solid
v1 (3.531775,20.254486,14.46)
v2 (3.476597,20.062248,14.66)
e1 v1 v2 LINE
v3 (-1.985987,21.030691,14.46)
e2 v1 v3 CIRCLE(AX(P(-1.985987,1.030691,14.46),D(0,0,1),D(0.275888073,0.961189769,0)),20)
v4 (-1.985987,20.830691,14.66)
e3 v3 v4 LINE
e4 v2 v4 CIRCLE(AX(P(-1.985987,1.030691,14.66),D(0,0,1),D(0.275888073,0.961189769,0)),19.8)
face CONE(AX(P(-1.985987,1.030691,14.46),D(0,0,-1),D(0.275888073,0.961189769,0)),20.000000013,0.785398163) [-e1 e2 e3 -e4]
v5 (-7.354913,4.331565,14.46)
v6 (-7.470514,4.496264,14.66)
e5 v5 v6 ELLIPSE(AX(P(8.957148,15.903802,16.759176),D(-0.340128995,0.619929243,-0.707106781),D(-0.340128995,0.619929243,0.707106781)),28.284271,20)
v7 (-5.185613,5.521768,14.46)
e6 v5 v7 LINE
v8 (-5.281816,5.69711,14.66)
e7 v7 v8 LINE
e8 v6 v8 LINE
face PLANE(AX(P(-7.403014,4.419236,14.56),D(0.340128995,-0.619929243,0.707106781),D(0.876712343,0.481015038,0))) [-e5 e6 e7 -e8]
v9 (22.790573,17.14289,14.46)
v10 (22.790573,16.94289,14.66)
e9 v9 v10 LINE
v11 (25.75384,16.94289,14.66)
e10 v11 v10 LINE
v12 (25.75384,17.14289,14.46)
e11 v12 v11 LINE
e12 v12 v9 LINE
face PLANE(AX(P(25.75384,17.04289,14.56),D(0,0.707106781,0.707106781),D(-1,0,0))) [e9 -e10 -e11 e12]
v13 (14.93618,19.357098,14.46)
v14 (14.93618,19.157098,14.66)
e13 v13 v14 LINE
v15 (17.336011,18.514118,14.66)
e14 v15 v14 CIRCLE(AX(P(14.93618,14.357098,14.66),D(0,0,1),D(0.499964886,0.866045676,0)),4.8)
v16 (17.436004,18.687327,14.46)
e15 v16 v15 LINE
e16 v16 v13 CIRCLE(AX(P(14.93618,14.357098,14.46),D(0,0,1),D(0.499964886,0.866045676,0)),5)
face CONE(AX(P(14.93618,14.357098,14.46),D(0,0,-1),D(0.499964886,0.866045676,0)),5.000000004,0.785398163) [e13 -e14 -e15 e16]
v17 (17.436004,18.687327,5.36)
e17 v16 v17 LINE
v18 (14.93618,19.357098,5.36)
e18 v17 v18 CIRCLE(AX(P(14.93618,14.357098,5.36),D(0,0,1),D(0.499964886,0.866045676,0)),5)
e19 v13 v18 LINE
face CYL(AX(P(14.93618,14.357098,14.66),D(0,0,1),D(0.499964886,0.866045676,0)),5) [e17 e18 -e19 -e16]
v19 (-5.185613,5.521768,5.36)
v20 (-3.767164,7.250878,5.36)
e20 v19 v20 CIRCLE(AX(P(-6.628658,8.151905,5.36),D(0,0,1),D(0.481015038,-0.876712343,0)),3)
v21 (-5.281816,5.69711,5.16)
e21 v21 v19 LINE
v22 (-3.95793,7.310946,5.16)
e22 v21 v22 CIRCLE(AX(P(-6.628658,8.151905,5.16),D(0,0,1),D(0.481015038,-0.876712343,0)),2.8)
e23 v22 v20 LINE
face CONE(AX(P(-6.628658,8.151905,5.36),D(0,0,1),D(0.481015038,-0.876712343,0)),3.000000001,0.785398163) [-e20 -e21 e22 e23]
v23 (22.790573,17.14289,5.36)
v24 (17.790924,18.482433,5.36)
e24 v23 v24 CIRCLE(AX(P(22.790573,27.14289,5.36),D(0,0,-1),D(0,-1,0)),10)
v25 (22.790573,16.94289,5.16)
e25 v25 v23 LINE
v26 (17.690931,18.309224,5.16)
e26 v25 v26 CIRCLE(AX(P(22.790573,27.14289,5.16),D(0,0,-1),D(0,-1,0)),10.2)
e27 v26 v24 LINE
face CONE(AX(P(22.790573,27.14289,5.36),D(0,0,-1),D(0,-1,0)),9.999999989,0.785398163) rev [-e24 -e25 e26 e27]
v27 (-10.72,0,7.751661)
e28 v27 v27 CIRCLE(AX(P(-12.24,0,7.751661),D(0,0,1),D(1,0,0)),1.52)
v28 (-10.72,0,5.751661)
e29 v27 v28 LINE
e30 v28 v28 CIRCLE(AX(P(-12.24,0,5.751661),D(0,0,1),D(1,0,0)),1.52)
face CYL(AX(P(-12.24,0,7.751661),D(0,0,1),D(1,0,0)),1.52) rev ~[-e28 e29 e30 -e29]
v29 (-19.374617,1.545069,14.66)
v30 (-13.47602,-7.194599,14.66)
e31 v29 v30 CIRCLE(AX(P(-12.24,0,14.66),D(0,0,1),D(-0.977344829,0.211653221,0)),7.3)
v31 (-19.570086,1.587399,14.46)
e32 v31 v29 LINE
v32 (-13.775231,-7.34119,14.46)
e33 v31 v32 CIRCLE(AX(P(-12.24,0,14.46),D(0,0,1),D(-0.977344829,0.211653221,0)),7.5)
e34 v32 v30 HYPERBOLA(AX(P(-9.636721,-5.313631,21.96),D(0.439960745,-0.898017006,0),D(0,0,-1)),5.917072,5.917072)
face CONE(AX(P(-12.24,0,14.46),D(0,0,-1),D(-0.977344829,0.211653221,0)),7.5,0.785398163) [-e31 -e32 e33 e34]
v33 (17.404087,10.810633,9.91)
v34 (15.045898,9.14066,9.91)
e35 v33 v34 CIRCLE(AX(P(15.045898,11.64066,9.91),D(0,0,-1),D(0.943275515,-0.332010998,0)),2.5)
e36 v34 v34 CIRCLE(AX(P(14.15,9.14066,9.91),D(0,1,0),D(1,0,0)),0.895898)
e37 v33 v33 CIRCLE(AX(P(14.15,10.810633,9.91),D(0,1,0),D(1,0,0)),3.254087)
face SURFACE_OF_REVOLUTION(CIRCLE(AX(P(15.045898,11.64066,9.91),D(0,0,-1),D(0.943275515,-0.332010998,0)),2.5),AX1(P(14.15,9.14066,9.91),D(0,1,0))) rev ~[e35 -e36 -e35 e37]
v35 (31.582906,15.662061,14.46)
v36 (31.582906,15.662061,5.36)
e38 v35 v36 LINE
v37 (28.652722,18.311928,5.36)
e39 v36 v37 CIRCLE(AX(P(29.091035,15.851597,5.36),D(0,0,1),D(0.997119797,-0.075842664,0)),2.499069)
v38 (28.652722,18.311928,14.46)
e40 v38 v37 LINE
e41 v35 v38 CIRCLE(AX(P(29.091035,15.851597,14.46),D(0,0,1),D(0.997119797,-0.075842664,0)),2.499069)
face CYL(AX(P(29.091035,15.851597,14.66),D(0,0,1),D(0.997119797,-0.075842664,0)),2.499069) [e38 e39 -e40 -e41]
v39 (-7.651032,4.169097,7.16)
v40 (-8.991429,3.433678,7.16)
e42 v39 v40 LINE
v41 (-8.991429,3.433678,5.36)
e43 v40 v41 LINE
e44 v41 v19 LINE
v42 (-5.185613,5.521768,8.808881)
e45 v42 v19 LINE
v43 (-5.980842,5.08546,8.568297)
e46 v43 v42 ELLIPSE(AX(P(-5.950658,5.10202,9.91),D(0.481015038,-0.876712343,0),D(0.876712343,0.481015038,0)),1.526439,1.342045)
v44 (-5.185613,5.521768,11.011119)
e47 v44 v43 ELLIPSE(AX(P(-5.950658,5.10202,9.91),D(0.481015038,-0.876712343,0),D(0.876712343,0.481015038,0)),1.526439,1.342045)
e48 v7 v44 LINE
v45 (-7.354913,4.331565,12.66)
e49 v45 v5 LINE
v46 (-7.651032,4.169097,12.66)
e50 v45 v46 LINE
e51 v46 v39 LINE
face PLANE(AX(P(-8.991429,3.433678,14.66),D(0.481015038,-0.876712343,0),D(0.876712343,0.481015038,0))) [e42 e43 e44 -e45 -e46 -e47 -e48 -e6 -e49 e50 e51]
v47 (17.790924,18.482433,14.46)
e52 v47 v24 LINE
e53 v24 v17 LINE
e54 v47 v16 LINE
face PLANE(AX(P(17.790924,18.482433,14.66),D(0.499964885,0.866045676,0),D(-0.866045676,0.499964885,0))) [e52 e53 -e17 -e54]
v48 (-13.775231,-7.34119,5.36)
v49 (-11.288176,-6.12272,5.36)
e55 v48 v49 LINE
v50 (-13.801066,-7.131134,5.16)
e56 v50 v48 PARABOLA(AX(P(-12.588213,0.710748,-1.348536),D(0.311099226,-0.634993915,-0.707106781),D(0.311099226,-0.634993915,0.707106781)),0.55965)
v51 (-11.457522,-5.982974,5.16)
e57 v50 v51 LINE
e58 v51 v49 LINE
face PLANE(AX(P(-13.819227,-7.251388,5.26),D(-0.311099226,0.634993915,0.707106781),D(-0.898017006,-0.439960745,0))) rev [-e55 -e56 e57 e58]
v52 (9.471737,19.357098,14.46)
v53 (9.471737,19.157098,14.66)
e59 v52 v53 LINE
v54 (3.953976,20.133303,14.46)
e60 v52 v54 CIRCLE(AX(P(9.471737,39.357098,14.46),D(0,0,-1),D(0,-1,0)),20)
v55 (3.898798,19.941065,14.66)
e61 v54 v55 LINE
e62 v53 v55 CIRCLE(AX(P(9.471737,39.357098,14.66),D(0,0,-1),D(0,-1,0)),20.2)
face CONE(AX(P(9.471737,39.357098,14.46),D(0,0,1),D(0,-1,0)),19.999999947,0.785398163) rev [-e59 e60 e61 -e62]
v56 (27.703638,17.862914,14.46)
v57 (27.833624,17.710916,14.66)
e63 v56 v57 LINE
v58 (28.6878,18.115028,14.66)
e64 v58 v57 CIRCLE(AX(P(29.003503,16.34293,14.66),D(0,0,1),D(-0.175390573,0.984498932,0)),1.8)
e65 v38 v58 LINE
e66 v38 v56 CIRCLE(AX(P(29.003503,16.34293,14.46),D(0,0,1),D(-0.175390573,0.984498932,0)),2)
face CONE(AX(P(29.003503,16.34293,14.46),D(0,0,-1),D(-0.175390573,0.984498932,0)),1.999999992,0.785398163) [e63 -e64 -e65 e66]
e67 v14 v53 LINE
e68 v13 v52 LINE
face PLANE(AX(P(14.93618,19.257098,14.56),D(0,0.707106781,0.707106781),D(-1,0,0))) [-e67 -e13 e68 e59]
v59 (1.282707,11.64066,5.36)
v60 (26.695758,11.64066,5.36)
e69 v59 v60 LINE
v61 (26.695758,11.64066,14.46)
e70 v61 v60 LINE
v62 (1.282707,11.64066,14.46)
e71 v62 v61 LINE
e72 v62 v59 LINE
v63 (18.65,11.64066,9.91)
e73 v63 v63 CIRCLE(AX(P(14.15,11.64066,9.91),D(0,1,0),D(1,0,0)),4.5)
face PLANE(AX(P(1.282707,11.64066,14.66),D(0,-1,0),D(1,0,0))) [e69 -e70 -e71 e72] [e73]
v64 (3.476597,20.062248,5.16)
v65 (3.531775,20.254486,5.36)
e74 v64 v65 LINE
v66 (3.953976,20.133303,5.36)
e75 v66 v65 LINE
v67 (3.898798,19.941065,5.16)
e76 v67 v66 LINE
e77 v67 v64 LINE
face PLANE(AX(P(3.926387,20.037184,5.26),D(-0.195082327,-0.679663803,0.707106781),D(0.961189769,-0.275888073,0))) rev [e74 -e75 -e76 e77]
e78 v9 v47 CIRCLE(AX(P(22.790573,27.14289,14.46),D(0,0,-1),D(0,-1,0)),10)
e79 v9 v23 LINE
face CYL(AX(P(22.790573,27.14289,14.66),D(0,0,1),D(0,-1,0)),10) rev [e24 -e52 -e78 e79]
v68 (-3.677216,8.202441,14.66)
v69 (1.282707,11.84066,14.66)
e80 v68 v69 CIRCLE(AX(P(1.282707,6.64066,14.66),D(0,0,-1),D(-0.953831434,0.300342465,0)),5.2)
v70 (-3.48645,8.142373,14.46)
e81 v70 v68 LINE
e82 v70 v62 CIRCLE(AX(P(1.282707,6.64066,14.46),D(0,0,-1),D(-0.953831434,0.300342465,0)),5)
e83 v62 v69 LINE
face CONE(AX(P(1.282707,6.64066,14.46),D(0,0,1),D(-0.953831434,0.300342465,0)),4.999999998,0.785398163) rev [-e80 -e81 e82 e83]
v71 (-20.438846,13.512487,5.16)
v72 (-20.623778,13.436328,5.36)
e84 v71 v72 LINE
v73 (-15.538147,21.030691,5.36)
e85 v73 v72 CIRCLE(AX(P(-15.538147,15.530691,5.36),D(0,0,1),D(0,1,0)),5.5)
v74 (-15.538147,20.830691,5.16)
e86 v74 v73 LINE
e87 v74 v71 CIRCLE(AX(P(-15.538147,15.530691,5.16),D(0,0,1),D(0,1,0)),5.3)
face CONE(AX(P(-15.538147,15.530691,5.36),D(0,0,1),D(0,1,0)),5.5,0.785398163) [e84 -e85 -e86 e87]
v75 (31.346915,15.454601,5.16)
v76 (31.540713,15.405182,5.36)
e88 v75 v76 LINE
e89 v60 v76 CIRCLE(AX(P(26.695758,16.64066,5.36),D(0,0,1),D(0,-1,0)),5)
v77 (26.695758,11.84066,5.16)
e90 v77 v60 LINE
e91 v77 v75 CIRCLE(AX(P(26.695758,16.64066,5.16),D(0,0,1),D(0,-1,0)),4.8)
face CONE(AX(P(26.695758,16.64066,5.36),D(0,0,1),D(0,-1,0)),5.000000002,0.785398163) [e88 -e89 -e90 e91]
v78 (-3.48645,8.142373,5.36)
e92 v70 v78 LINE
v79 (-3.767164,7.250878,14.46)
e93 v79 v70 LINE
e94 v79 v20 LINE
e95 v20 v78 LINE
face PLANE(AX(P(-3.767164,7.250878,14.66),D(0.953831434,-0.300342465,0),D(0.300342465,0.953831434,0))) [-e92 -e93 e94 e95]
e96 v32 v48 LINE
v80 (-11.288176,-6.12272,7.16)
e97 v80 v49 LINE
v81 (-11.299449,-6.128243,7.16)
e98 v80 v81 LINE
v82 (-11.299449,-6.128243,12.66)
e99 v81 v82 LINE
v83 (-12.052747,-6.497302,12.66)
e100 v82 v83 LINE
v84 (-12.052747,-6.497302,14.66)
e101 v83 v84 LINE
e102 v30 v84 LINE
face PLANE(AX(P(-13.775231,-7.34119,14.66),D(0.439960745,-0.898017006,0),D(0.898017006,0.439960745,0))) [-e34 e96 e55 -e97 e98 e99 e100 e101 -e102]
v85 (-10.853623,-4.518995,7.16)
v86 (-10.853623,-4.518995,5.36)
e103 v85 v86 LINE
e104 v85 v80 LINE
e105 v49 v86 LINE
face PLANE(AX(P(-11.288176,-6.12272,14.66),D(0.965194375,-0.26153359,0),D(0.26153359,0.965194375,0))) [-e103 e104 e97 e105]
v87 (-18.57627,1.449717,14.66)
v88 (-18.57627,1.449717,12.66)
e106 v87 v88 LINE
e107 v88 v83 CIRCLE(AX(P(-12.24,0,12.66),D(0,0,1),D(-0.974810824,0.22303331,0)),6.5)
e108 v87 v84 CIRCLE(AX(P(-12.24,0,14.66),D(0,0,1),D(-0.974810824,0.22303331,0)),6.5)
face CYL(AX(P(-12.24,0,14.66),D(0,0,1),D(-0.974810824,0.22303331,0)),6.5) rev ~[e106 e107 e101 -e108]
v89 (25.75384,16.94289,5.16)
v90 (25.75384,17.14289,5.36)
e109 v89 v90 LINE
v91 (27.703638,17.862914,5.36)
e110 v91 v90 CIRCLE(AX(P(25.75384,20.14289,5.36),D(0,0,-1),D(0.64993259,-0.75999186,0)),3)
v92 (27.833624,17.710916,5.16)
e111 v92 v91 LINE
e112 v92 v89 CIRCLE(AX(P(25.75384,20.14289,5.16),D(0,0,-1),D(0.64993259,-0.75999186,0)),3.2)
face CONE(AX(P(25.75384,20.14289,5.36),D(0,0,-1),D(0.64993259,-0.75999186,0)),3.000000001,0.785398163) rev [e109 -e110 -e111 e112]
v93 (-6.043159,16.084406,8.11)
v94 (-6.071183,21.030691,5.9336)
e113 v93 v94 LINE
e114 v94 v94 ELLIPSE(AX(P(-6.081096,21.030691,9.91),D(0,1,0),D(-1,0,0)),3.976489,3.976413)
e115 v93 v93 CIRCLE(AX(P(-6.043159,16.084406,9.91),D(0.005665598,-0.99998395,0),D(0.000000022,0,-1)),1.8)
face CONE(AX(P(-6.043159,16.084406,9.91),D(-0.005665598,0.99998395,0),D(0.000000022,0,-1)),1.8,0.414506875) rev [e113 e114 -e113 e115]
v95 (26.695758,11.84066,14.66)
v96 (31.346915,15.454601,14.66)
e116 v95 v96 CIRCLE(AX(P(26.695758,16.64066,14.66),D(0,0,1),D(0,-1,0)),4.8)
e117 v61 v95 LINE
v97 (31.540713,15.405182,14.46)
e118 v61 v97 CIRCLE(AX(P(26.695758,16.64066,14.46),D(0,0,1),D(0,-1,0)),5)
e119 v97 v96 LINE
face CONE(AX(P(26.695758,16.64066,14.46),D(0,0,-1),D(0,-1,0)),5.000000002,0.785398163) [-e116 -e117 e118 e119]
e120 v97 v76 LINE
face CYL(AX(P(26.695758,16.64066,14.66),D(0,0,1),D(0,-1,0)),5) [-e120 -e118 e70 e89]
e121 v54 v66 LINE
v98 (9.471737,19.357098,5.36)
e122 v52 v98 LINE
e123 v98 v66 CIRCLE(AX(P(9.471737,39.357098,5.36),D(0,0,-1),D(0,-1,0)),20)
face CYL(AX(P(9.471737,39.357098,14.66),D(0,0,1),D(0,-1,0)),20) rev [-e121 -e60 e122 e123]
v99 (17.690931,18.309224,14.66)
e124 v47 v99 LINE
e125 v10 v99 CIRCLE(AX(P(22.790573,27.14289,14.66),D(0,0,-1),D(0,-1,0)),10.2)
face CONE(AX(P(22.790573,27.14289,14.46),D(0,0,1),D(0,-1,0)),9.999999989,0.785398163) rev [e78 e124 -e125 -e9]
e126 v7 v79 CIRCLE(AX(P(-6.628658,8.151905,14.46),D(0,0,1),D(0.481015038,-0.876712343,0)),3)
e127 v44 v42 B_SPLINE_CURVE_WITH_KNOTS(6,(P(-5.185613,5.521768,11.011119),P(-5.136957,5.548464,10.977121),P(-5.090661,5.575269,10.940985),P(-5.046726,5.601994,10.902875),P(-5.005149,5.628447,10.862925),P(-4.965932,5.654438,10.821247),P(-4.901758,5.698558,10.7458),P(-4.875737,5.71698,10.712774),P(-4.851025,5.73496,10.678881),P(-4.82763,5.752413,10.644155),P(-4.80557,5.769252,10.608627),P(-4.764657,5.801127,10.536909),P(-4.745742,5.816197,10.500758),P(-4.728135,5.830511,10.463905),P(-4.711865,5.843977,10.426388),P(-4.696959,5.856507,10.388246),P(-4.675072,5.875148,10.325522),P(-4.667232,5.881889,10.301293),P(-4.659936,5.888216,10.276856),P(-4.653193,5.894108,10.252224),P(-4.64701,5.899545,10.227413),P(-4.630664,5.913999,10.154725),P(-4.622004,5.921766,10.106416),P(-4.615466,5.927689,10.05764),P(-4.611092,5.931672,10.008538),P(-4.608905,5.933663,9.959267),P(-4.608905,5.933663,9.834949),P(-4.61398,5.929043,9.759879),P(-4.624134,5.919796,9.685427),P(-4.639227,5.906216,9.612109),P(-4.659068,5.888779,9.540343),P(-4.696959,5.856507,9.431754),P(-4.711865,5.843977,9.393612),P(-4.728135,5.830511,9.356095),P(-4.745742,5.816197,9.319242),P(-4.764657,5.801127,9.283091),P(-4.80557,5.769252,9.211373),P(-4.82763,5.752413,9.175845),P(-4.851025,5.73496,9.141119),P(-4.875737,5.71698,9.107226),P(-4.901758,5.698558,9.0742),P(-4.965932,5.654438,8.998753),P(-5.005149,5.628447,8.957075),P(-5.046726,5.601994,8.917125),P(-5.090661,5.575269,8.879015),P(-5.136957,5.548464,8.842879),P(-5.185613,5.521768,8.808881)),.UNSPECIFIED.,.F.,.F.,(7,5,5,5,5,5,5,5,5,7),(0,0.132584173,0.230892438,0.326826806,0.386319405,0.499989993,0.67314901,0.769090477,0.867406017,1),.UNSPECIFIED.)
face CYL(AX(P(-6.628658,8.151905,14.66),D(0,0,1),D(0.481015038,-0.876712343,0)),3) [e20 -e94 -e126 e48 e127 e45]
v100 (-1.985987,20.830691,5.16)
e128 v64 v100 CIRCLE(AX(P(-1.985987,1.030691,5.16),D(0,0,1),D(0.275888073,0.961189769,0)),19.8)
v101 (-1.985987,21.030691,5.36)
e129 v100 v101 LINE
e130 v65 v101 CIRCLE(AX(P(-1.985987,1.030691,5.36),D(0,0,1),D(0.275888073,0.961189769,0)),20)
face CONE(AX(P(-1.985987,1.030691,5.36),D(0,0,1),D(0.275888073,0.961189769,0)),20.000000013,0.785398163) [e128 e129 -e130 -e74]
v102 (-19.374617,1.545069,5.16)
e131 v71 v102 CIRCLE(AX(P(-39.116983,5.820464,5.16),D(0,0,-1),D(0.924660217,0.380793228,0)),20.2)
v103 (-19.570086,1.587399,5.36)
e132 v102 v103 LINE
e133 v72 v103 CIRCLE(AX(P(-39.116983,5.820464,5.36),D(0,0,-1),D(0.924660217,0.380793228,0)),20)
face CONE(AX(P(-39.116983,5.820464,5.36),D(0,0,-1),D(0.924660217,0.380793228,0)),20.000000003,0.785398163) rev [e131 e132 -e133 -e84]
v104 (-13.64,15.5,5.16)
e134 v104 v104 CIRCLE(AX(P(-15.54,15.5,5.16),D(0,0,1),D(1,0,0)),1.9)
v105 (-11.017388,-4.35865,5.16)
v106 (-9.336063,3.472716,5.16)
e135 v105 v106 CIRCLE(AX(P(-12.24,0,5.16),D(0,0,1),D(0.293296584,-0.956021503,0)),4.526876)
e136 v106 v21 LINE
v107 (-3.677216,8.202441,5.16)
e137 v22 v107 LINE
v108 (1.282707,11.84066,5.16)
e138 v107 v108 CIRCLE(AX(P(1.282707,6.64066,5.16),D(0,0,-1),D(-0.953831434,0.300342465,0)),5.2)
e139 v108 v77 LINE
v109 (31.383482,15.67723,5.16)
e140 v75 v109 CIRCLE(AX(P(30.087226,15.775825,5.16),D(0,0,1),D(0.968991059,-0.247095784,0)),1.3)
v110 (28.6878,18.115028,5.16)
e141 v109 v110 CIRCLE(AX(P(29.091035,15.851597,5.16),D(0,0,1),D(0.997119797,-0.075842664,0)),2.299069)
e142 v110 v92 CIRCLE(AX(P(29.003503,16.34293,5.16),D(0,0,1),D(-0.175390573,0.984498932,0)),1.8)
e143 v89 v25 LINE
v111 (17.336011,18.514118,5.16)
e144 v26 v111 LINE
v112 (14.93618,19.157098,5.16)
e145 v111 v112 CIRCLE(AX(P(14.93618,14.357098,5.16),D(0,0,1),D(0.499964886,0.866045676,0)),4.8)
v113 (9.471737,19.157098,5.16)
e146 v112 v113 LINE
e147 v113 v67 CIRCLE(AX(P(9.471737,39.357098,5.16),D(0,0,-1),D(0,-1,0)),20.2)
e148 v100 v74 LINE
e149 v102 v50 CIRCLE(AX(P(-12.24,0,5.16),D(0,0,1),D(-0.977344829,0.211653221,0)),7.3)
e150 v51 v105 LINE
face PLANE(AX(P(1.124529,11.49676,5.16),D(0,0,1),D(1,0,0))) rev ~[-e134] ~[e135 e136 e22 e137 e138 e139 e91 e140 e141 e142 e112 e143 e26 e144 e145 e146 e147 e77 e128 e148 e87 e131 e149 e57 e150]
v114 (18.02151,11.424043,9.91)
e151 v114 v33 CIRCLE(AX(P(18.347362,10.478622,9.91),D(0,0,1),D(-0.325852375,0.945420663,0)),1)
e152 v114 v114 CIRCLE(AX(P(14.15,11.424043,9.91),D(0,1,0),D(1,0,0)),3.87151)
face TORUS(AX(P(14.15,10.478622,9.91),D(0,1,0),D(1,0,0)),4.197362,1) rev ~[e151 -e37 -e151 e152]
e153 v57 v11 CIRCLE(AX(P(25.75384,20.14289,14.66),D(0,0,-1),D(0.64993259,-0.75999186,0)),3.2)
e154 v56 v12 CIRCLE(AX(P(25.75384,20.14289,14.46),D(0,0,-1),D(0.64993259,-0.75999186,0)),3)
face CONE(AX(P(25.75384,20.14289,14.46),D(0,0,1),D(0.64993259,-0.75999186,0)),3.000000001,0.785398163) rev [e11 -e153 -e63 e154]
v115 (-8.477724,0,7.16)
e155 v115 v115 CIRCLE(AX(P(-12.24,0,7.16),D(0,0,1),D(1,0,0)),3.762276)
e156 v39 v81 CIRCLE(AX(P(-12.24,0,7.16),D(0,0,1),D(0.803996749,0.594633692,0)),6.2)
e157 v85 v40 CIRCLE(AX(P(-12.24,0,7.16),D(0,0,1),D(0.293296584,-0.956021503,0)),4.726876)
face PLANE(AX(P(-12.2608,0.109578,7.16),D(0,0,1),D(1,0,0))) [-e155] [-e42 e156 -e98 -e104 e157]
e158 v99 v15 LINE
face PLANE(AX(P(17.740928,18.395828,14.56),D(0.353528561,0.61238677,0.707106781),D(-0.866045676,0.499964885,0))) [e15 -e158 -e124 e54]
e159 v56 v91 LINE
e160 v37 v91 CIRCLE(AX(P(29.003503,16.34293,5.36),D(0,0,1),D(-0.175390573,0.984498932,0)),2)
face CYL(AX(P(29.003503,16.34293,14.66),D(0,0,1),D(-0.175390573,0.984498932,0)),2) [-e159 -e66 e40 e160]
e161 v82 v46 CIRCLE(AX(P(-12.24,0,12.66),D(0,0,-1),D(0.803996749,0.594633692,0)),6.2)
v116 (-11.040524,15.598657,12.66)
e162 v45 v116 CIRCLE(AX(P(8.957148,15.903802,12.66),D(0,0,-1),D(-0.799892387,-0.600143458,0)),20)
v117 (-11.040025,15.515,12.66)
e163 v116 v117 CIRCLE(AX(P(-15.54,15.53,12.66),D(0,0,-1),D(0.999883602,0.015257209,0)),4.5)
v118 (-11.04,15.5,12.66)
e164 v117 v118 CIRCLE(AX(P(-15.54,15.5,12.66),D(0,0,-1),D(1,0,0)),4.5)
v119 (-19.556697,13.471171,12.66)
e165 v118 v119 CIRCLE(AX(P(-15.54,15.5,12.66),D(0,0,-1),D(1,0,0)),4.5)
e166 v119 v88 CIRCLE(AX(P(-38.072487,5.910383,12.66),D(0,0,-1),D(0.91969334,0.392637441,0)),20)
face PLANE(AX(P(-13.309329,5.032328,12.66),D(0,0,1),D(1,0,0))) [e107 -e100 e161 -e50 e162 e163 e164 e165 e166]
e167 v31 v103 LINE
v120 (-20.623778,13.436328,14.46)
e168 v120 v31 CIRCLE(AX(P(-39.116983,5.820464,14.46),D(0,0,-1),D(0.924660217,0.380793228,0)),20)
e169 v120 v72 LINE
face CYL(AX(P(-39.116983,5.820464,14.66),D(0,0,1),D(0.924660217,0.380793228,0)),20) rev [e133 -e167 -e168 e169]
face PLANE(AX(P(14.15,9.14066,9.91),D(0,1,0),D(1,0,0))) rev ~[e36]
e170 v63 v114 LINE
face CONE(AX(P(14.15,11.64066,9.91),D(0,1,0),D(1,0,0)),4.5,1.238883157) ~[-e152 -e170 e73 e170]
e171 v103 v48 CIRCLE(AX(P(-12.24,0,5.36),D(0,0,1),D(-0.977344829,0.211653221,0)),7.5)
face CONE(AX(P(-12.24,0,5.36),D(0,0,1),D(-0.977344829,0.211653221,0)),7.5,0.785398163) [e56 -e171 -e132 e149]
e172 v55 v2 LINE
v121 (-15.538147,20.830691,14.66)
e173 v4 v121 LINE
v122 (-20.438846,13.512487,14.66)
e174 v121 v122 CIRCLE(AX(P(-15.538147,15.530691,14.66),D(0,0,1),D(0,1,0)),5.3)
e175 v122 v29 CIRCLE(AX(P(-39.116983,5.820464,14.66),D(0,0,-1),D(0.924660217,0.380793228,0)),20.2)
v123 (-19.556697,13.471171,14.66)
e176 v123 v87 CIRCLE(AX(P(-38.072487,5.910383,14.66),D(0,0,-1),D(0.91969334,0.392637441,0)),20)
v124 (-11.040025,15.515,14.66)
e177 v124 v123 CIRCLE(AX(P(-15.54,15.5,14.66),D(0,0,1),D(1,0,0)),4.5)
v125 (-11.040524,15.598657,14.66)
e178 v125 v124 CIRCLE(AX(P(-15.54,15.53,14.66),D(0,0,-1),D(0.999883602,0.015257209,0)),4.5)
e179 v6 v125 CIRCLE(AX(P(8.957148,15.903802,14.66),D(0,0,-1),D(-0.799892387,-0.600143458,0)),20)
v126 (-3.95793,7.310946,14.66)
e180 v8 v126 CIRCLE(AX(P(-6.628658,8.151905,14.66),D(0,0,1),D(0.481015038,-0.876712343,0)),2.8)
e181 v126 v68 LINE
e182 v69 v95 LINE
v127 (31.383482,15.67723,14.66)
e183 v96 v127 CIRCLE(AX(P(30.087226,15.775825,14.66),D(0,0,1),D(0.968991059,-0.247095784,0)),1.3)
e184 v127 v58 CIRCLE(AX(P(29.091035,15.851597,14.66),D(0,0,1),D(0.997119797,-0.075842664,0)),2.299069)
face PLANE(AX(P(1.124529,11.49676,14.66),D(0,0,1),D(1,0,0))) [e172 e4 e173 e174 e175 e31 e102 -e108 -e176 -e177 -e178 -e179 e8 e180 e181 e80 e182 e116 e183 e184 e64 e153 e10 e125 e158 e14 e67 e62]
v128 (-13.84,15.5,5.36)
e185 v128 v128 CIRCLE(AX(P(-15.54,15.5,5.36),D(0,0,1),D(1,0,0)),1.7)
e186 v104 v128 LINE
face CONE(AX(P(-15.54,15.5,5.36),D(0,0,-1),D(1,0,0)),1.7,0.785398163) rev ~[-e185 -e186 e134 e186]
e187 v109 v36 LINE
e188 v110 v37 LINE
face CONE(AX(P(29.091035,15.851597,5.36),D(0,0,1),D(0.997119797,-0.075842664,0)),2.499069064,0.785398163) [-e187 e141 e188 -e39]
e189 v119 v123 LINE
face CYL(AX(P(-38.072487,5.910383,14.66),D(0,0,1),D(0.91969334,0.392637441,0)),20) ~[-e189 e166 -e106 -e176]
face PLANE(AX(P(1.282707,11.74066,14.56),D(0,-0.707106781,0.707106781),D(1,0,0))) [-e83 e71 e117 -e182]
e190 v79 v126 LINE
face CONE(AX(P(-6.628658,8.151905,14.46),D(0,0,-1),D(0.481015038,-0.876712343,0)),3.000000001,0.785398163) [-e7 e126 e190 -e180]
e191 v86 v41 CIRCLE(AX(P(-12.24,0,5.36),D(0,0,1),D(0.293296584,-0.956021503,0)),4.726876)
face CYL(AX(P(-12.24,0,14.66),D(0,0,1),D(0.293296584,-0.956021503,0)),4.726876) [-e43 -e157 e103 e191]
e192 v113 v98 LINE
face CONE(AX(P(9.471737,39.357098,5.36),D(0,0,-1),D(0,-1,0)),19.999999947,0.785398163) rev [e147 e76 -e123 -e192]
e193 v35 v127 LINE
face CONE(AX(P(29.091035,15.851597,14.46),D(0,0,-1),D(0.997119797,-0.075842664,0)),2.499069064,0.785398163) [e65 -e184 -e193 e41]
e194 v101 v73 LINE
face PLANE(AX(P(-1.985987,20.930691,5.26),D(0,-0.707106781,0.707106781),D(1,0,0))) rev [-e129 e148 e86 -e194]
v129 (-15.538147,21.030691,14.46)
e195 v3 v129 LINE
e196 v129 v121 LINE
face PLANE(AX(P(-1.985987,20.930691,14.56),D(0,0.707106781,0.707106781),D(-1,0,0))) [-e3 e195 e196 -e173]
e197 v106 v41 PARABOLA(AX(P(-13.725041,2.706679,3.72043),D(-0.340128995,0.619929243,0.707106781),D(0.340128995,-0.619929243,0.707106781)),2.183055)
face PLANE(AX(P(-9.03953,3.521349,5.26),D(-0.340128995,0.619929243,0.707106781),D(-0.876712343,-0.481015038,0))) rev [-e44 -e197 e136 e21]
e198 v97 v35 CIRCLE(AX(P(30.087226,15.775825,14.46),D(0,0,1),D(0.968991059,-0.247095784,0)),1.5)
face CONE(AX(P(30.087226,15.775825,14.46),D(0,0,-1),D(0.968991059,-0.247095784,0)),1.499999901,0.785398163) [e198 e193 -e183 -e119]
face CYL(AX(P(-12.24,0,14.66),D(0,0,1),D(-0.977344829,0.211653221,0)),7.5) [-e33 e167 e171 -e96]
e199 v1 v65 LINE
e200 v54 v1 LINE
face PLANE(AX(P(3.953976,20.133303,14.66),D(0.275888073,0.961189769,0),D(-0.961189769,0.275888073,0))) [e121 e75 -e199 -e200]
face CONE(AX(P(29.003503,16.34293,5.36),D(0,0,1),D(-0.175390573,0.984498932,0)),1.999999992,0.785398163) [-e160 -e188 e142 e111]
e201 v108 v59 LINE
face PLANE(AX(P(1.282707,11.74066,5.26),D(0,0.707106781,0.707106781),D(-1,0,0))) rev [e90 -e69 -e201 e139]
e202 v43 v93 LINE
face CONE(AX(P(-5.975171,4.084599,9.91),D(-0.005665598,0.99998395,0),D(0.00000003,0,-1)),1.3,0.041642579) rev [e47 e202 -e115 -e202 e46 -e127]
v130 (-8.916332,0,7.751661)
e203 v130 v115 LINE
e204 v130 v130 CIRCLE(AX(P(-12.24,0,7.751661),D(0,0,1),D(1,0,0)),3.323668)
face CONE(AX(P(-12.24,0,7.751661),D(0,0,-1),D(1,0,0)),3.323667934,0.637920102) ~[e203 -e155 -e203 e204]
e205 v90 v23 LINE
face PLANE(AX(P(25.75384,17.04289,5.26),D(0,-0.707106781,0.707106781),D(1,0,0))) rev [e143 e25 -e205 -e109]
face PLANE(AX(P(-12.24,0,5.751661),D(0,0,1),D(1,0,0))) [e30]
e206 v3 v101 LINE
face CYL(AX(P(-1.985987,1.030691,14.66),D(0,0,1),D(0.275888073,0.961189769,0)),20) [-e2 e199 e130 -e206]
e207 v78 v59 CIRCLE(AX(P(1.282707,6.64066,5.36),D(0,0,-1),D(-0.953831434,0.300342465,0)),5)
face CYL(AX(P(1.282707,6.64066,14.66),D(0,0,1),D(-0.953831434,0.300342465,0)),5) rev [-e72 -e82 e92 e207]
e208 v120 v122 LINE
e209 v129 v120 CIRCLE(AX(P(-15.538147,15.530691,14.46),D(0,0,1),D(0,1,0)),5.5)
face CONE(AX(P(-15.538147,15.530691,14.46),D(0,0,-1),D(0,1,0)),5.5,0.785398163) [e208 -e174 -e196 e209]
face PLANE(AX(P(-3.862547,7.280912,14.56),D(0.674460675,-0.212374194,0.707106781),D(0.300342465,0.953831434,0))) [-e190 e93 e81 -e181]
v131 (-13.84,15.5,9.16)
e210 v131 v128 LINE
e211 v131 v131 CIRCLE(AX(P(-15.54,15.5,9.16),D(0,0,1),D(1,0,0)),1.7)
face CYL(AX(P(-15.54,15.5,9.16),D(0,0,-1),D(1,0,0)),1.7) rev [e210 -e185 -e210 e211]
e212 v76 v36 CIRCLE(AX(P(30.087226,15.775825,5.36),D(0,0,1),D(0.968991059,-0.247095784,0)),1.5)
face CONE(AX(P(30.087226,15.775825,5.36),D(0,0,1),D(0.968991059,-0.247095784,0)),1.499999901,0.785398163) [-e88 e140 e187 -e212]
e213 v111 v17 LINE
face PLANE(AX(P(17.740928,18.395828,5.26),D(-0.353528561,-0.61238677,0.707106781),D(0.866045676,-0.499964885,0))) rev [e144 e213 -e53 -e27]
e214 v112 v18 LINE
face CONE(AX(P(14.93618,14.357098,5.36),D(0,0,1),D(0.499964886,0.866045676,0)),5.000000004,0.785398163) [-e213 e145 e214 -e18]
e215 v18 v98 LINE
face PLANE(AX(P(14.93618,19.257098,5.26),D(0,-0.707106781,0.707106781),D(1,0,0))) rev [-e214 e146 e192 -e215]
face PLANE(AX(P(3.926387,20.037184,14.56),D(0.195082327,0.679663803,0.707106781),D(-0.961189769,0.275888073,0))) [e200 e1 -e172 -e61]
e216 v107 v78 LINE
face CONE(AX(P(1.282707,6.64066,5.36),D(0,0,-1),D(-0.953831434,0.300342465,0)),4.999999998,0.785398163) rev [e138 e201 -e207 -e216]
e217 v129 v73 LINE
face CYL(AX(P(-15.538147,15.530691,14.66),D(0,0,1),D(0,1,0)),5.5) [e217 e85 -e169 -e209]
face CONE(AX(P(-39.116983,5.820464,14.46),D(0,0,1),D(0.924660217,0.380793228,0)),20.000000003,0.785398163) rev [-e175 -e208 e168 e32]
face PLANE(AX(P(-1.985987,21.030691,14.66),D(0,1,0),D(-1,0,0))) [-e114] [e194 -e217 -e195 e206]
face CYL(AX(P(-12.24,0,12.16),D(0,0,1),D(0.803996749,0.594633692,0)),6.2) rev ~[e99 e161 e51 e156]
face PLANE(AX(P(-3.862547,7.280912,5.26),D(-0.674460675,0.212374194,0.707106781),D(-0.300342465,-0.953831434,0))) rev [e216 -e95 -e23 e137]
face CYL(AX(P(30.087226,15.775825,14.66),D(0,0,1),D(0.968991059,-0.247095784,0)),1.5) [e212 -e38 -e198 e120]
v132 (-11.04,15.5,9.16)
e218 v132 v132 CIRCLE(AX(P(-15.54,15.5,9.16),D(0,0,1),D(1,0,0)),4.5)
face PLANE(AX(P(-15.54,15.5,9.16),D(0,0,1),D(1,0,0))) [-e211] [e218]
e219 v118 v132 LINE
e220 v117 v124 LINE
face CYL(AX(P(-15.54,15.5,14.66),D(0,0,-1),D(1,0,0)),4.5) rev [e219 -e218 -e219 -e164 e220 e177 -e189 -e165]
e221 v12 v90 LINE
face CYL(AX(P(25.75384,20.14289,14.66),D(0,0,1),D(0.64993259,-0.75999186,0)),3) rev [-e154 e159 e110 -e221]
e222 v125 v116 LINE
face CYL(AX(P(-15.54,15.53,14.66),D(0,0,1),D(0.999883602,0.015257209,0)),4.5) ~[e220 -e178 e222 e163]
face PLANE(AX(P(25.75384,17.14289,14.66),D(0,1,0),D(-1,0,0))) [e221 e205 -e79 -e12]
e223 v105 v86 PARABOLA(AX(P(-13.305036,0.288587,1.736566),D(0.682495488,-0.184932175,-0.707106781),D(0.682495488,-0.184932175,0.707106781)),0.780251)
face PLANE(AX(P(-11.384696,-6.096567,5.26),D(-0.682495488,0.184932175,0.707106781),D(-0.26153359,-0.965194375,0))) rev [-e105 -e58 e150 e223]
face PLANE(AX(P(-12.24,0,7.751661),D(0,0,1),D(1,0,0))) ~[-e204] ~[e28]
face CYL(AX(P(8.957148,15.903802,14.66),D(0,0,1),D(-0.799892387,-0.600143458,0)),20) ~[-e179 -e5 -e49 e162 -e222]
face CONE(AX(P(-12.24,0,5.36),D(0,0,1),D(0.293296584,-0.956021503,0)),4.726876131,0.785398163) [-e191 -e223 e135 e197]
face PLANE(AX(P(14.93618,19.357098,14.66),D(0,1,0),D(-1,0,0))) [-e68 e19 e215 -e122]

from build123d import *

# Parameters (mm, degrees)
EXTRUDE_1_DEPTH          = 9.5
CUT_EXTRUDE_1_DEPTH      = 2
CUT_EXTRUDE_2_DEPTH      = 5
CUT_EXTRUDE_2_DEPTH_BACK = 5
CHAMFER_3_SIZE           = 0.2
CHAMFER_4_SIZE           = 0.2
CHAMFER_5_SIZE           = 0.2
SKETCH_35_R              = 1.52
CUT_EXTRUDE_3_DEPTH      = 2


with BuildPart() as part:
    # 草图1 → 凸台-拉伸1 (new body)
    with BuildSketch(Plane.XY.offset(14.66)):
        with BuildLine():
            Line((10.013875018, 11.640660484), (26.695757592, 11.640660484))
            ThreePointArc((26.695757592, 11.640660484), (29.763542255, 12.692408053), (31.540712894, 15.405181579))
            ThreePointArc((31.540712894, 15.405181579), (31.567392591, 15.532704372), (31.582905999, 15.662061255))
            ThreePointArc((31.582905999, 15.662061255), (30.767257841, 17.705140503), (28.652721603, 18.311928133))
            ThreePointArc((28.652721603, 18.311928133), (28.148188919, 18.150812525), (27.70363757, 17.86291399))
            ThreePointArc((27.70363757, 17.86291399), (26.793087906, 17.328646623), (25.753839798, 17.142889571))
            Line((25.753839798, 17.142889571), (22.790573212, 17.142889571))
            ThreePointArc((22.790573212, 17.142889571), (20.202578582, 17.48357884), (17.790924351, 18.482432813))
            Line((17.790924351, 18.482432813), (17.43600444, 18.687326732))
            ThreePointArc((17.43600444, 18.687326732), (16.230177325, 19.186753718), (14.93618001, 19.357098353))
            Line((14.93618001, 19.357098353), (9.471737064, 19.357098353))
            ThreePointArc((9.471737064, 19.357098353), (6.685692146, 19.552100152), (3.953975606, 20.133302981))
            Line((3.953975606, 20.133302981), (3.531774948, 20.254486258))
            ThreePointArc((3.531774948, 20.254486258), (0.800058407, 20.835689087), (-1.985986511, 21.030690887))
            Line((-1.985986511, 21.030690887), (-15.538147248, 21.030690887))
            ThreePointArc((-15.538147248, 21.030690887), (-20.108103219, 18.591001725), (-20.623778443, 13.436328132))
            ThreePointArc((-20.623778443, 13.436328132), (-19.195597321, 7.592016854), (-19.570086215, 1.587399156))
            ThreePointArc((-19.570086215, 1.587399156), (-18.531135486, -4.083088818), (-13.775230647, -7.341189744))
            Line((-13.775230647, -7.341189744), (-11.288176227, -6.122720263))
            Line((-11.288176227, -6.122720263), (-10.853623376, -4.518995222))
            ThreePointArc((-10.853623376, -4.518995222), (-7.637616135, -1.077692314), (-8.991428746, 3.433677732))
            Line((-8.991428746, 3.433677732), (-5.185613362, 5.521767908))
            ThreePointArc((-5.185613362, 5.521767908), (-4.30923615, 6.249201579), (-3.767164175, 7.250877543))
            Line((-3.767164175, 7.250877543), (-3.486450124, 8.142372809))
            ThreePointArc((-3.486450124, 8.142372809), (-1.67460917, 10.672320293), (1.282707044, 11.640660484))
            Line((1.282707044, 11.640660484), (10.013875018, 11.640660484))
        make_face()
    extrude(amount=-EXTRUDE_1_DEPTH)

    # 草图2 → 切除-拉伸1 (cut)
    with BuildSketch(Plane.XY.offset(14.66)):
        with BuildLine():
            ThreePointArc((-18.576270357, 1.449716513), (-10.888967052, -6.358042936), (-7.040699486, 3.900932474))
            ThreePointArc((-7.040699486, 3.900932474), (-9.967136502, 9.432986631), (-11.040523791, 15.598657441))
            ThreePointArc((-11.040523791, 15.598657441), (-14.604669497, 11.128277968), (-19.678620032, 13.763131518))
            ThreePointArc((-19.678620032, 13.763131518), (-18.152154257, 7.693736239), (-18.576270357, 1.449716513))
        make_face()
    extrude(amount=-CUT_EXTRUDE_1_DEPTH, mode=Mode.SUBTRACT)

    # 草图7 → 切除-拉伸2 (cut, two sides: drawn at the far end of the back side and taken through both)
    with BuildSketch(Plane.XY.offset(12.16).offset(-CUT_EXTRUDE_2_DEPTH_BACK)):
        with BuildLine():
            Line((-11.093260582, -6.093027877), (-10.743074352, -4.770661757))
            ThreePointArc((-10.743074352, -4.770661757), (-7.437188108, -1.39032296), (-8.426086578, 3.233274564))
            ThreePointArc((-8.426086578, 3.233274564), (-7.84768541, 3.478159198), (-7.255220155, 3.686728888))
            ThreePointArc((-7.255220155, 3.686728888), (-18.011463654, 2.26499609), (-11.093260582, -6.093027877))
        make_face()
    extrude(amount=CUT_EXTRUDE_2_DEPTH + CUT_EXTRUDE_2_DEPTH_BACK, mode=Mode.SUBTRACT)

    # 草图20 → 切除-旋转1 (revolve, cut)
    with BuildSketch(Plane(origin=(0, 15.5, 0), x_dir=(1, 0, 0), z_dir=(0, 1, 0))):
        Polygon((-13.84, -5.16), (-15.54, -5.16), (-15.54, -14.66), (-11.04, -14.66), (-11.04, -9.16), (-13.84, -9.16), align=None)
    revolve(axis=Axis((-15.54, 15.5, 5.16), (0, 0, 1)), mode=Mode.SUBTRACT)

    # 草图28 → 旋转1 (revolve)
    with BuildSketch(Plane(origin=(0, 0, 9.91), x_dir=(-1, 0, 0), z_dir=(0, 0, -1))):
        with BuildLine():
            Line((-15.045898034, 9.140660484), (-14.15, 9.140660484))
            Line((-14.15, 9.140660484), (-14.15, 11.640660484))
            Line((-14.15, 11.640660484), (-18.65, 11.640660484))
            Line((-18.65, 11.640660484), (-18.021509962, 11.424042656))
            ThreePointArc((-18.021509962, 11.424042656), (-17.642565022, 11.188030722), (-17.404086822, 10.81063299))
            ThreePointArc((-17.404086822, 10.81063299), (-16.490704468, 9.600431485), (-15.045898034, 9.140660484))
        make_face()
    revolve(axis=Axis((14.15, 9.140660484, 9.91), (0, 1, 0)))

    # 草图31 → 旋转2 (revolve)
    with BuildSketch(Plane(origin=(0, 0, 0), x_dir=(1, 0, 0), z_dir=(0, 1, 0))):
        Polygon((-8.477724428, -7.16), (-12.24, -7.16), (-12.24, -7.751660878), (-10.2, -7.751660878), (-8.916332066, -7.751660878), align=None)
    revolve(axis=Axis((-12.24, 0, 7.16), (0, 0, 1)))

    # 草图34 → 切除-旋转2 (revolve, cut)
    with BuildSketch(Plane(origin=(-5.952118717, 0.015774741, 0), x_dir=(0, 0, -1), z_dir=(0.9999839503688693, 0.005665598350652085, 0))):
        Polygon((-9.91, 21.068889451), (-9.91, 4.068889451), (-8.61, 4.068889451), (-8.11, 16.068889451), (-5.91, 21.068889451), align=None)
    revolve(axis=Axis((-6.575334536, 110.014009282, 9.91), (0.005665598350652086, -0.9999839503688692, 0)), mode=Mode.SUBTRACT)

    # 倒角3
    chamfer_3_edges = [part.edges().sort_by_distance(p)[0] for p in [
        (31.567392591, 15.532704372, 5.16),
        (29.763542255, 12.692408053, 5.16),
        (30.767257841, 17.705140503, 5.16),
        (28.148188919, 18.150812525, 5.16),
        (26.793087906, 17.328646623, 5.16),
        (24.272206505, 17.142889571, 5.16),
        (20.202578582, 17.48357884, 5.16),
        (17.613464396, 18.584879772, 5.16),
        (16.230177325, 19.186753718, 5.16),
        (12.203958537, 19.357098353, 5.16),
        (6.685692146, 19.552100152, 5.16),
        (3.742875277, 20.19389462, 5.16),
        (0.800058407, 20.835689087, 5.16),
        (-8.762066879, 21.030690887, 5.16),
        (-20.108103219, 18.591001725, 5.16),
        (-19.195597321, 7.592016854, 5.16),
        (-18.531135486, -4.083088818, 5.16),
        (-12.531703437, -6.731955004, 5.16),
        (-11.070899801, -5.320857743, 5.16),
        (-7.637616135, -1.077692314, 5.16),
        (-7.088521054, 4.47772282, 5.16),
        (-4.30923615, 6.249201579, 5.16),
        (-3.626807149, 7.696625176, 5.16),
        (-1.67460917, 10.672320293, 5.16),
        (13.989232318, 11.640660484, 5.16),
    ]]
    chamfer(chamfer_3_edges, length=CHAMFER_3_SIZE)

    # 倒角4
    chamfer_4_edges = [part.edges().sort_by_distance(p)[0] for p in [
        (-17.24, 15.5, 5.16),
    ]]
    chamfer(chamfer_4_edges, length=CHAMFER_4_SIZE)

    # 倒角5
    chamfer_5_edges = [part.edges().sort_by_distance(p)[0] for p in [
        (-18.531135486, -4.083088818, 14.66),
        (-19.195597321, 7.592016854, 14.66),
        (-20.108103219, 18.591001725, 14.66),
        (-8.762066879, 21.030690887, 14.66),
        (0.800058407, 20.835689087, 14.66),
        (3.742875277, 20.19389462, 14.66),
        (6.685692146, 19.552100152, 14.66),
        (12.203958537, 19.357098353, 14.66),
        (16.230177325, 19.186753718, 14.66),
        (17.613464396, 18.584879772, 14.66),
        (20.202578582, 17.48357884, 14.66),
        (24.272206505, 17.142889571, 14.66),
        (26.793087906, 17.328646623, 14.66),
        (28.148188919, 18.150812525, 14.66),
        (30.767257841, 17.705140503, 14.66),
        (31.567392591, 15.532704372, 14.66),
        (29.763542255, 12.692408053, 14.66),
        (13.989232318, 11.640660484, 14.66),
        (-1.67460917, 10.672320293, 14.66),
        (-3.626807149, 7.696625176, 14.66),
        (-4.30923615, 6.249201579, 14.66),
        (-6.270263103, 4.926666401, 14.66),
    ]]
    chamfer(chamfer_5_edges, length=CHAMFER_5_SIZE)

    # 草图35 → 切除-拉伸3 (cut)
    with BuildSketch(Plane.XY.offset(7.751660878)):
        with Locations((-12.24, 0)):
            Circle(SKETCH_35_R)
    extrude(amount=-CUT_EXTRUDE_3_DEPTH, mode=Mode.SUBTRACT)


solid = part.part
